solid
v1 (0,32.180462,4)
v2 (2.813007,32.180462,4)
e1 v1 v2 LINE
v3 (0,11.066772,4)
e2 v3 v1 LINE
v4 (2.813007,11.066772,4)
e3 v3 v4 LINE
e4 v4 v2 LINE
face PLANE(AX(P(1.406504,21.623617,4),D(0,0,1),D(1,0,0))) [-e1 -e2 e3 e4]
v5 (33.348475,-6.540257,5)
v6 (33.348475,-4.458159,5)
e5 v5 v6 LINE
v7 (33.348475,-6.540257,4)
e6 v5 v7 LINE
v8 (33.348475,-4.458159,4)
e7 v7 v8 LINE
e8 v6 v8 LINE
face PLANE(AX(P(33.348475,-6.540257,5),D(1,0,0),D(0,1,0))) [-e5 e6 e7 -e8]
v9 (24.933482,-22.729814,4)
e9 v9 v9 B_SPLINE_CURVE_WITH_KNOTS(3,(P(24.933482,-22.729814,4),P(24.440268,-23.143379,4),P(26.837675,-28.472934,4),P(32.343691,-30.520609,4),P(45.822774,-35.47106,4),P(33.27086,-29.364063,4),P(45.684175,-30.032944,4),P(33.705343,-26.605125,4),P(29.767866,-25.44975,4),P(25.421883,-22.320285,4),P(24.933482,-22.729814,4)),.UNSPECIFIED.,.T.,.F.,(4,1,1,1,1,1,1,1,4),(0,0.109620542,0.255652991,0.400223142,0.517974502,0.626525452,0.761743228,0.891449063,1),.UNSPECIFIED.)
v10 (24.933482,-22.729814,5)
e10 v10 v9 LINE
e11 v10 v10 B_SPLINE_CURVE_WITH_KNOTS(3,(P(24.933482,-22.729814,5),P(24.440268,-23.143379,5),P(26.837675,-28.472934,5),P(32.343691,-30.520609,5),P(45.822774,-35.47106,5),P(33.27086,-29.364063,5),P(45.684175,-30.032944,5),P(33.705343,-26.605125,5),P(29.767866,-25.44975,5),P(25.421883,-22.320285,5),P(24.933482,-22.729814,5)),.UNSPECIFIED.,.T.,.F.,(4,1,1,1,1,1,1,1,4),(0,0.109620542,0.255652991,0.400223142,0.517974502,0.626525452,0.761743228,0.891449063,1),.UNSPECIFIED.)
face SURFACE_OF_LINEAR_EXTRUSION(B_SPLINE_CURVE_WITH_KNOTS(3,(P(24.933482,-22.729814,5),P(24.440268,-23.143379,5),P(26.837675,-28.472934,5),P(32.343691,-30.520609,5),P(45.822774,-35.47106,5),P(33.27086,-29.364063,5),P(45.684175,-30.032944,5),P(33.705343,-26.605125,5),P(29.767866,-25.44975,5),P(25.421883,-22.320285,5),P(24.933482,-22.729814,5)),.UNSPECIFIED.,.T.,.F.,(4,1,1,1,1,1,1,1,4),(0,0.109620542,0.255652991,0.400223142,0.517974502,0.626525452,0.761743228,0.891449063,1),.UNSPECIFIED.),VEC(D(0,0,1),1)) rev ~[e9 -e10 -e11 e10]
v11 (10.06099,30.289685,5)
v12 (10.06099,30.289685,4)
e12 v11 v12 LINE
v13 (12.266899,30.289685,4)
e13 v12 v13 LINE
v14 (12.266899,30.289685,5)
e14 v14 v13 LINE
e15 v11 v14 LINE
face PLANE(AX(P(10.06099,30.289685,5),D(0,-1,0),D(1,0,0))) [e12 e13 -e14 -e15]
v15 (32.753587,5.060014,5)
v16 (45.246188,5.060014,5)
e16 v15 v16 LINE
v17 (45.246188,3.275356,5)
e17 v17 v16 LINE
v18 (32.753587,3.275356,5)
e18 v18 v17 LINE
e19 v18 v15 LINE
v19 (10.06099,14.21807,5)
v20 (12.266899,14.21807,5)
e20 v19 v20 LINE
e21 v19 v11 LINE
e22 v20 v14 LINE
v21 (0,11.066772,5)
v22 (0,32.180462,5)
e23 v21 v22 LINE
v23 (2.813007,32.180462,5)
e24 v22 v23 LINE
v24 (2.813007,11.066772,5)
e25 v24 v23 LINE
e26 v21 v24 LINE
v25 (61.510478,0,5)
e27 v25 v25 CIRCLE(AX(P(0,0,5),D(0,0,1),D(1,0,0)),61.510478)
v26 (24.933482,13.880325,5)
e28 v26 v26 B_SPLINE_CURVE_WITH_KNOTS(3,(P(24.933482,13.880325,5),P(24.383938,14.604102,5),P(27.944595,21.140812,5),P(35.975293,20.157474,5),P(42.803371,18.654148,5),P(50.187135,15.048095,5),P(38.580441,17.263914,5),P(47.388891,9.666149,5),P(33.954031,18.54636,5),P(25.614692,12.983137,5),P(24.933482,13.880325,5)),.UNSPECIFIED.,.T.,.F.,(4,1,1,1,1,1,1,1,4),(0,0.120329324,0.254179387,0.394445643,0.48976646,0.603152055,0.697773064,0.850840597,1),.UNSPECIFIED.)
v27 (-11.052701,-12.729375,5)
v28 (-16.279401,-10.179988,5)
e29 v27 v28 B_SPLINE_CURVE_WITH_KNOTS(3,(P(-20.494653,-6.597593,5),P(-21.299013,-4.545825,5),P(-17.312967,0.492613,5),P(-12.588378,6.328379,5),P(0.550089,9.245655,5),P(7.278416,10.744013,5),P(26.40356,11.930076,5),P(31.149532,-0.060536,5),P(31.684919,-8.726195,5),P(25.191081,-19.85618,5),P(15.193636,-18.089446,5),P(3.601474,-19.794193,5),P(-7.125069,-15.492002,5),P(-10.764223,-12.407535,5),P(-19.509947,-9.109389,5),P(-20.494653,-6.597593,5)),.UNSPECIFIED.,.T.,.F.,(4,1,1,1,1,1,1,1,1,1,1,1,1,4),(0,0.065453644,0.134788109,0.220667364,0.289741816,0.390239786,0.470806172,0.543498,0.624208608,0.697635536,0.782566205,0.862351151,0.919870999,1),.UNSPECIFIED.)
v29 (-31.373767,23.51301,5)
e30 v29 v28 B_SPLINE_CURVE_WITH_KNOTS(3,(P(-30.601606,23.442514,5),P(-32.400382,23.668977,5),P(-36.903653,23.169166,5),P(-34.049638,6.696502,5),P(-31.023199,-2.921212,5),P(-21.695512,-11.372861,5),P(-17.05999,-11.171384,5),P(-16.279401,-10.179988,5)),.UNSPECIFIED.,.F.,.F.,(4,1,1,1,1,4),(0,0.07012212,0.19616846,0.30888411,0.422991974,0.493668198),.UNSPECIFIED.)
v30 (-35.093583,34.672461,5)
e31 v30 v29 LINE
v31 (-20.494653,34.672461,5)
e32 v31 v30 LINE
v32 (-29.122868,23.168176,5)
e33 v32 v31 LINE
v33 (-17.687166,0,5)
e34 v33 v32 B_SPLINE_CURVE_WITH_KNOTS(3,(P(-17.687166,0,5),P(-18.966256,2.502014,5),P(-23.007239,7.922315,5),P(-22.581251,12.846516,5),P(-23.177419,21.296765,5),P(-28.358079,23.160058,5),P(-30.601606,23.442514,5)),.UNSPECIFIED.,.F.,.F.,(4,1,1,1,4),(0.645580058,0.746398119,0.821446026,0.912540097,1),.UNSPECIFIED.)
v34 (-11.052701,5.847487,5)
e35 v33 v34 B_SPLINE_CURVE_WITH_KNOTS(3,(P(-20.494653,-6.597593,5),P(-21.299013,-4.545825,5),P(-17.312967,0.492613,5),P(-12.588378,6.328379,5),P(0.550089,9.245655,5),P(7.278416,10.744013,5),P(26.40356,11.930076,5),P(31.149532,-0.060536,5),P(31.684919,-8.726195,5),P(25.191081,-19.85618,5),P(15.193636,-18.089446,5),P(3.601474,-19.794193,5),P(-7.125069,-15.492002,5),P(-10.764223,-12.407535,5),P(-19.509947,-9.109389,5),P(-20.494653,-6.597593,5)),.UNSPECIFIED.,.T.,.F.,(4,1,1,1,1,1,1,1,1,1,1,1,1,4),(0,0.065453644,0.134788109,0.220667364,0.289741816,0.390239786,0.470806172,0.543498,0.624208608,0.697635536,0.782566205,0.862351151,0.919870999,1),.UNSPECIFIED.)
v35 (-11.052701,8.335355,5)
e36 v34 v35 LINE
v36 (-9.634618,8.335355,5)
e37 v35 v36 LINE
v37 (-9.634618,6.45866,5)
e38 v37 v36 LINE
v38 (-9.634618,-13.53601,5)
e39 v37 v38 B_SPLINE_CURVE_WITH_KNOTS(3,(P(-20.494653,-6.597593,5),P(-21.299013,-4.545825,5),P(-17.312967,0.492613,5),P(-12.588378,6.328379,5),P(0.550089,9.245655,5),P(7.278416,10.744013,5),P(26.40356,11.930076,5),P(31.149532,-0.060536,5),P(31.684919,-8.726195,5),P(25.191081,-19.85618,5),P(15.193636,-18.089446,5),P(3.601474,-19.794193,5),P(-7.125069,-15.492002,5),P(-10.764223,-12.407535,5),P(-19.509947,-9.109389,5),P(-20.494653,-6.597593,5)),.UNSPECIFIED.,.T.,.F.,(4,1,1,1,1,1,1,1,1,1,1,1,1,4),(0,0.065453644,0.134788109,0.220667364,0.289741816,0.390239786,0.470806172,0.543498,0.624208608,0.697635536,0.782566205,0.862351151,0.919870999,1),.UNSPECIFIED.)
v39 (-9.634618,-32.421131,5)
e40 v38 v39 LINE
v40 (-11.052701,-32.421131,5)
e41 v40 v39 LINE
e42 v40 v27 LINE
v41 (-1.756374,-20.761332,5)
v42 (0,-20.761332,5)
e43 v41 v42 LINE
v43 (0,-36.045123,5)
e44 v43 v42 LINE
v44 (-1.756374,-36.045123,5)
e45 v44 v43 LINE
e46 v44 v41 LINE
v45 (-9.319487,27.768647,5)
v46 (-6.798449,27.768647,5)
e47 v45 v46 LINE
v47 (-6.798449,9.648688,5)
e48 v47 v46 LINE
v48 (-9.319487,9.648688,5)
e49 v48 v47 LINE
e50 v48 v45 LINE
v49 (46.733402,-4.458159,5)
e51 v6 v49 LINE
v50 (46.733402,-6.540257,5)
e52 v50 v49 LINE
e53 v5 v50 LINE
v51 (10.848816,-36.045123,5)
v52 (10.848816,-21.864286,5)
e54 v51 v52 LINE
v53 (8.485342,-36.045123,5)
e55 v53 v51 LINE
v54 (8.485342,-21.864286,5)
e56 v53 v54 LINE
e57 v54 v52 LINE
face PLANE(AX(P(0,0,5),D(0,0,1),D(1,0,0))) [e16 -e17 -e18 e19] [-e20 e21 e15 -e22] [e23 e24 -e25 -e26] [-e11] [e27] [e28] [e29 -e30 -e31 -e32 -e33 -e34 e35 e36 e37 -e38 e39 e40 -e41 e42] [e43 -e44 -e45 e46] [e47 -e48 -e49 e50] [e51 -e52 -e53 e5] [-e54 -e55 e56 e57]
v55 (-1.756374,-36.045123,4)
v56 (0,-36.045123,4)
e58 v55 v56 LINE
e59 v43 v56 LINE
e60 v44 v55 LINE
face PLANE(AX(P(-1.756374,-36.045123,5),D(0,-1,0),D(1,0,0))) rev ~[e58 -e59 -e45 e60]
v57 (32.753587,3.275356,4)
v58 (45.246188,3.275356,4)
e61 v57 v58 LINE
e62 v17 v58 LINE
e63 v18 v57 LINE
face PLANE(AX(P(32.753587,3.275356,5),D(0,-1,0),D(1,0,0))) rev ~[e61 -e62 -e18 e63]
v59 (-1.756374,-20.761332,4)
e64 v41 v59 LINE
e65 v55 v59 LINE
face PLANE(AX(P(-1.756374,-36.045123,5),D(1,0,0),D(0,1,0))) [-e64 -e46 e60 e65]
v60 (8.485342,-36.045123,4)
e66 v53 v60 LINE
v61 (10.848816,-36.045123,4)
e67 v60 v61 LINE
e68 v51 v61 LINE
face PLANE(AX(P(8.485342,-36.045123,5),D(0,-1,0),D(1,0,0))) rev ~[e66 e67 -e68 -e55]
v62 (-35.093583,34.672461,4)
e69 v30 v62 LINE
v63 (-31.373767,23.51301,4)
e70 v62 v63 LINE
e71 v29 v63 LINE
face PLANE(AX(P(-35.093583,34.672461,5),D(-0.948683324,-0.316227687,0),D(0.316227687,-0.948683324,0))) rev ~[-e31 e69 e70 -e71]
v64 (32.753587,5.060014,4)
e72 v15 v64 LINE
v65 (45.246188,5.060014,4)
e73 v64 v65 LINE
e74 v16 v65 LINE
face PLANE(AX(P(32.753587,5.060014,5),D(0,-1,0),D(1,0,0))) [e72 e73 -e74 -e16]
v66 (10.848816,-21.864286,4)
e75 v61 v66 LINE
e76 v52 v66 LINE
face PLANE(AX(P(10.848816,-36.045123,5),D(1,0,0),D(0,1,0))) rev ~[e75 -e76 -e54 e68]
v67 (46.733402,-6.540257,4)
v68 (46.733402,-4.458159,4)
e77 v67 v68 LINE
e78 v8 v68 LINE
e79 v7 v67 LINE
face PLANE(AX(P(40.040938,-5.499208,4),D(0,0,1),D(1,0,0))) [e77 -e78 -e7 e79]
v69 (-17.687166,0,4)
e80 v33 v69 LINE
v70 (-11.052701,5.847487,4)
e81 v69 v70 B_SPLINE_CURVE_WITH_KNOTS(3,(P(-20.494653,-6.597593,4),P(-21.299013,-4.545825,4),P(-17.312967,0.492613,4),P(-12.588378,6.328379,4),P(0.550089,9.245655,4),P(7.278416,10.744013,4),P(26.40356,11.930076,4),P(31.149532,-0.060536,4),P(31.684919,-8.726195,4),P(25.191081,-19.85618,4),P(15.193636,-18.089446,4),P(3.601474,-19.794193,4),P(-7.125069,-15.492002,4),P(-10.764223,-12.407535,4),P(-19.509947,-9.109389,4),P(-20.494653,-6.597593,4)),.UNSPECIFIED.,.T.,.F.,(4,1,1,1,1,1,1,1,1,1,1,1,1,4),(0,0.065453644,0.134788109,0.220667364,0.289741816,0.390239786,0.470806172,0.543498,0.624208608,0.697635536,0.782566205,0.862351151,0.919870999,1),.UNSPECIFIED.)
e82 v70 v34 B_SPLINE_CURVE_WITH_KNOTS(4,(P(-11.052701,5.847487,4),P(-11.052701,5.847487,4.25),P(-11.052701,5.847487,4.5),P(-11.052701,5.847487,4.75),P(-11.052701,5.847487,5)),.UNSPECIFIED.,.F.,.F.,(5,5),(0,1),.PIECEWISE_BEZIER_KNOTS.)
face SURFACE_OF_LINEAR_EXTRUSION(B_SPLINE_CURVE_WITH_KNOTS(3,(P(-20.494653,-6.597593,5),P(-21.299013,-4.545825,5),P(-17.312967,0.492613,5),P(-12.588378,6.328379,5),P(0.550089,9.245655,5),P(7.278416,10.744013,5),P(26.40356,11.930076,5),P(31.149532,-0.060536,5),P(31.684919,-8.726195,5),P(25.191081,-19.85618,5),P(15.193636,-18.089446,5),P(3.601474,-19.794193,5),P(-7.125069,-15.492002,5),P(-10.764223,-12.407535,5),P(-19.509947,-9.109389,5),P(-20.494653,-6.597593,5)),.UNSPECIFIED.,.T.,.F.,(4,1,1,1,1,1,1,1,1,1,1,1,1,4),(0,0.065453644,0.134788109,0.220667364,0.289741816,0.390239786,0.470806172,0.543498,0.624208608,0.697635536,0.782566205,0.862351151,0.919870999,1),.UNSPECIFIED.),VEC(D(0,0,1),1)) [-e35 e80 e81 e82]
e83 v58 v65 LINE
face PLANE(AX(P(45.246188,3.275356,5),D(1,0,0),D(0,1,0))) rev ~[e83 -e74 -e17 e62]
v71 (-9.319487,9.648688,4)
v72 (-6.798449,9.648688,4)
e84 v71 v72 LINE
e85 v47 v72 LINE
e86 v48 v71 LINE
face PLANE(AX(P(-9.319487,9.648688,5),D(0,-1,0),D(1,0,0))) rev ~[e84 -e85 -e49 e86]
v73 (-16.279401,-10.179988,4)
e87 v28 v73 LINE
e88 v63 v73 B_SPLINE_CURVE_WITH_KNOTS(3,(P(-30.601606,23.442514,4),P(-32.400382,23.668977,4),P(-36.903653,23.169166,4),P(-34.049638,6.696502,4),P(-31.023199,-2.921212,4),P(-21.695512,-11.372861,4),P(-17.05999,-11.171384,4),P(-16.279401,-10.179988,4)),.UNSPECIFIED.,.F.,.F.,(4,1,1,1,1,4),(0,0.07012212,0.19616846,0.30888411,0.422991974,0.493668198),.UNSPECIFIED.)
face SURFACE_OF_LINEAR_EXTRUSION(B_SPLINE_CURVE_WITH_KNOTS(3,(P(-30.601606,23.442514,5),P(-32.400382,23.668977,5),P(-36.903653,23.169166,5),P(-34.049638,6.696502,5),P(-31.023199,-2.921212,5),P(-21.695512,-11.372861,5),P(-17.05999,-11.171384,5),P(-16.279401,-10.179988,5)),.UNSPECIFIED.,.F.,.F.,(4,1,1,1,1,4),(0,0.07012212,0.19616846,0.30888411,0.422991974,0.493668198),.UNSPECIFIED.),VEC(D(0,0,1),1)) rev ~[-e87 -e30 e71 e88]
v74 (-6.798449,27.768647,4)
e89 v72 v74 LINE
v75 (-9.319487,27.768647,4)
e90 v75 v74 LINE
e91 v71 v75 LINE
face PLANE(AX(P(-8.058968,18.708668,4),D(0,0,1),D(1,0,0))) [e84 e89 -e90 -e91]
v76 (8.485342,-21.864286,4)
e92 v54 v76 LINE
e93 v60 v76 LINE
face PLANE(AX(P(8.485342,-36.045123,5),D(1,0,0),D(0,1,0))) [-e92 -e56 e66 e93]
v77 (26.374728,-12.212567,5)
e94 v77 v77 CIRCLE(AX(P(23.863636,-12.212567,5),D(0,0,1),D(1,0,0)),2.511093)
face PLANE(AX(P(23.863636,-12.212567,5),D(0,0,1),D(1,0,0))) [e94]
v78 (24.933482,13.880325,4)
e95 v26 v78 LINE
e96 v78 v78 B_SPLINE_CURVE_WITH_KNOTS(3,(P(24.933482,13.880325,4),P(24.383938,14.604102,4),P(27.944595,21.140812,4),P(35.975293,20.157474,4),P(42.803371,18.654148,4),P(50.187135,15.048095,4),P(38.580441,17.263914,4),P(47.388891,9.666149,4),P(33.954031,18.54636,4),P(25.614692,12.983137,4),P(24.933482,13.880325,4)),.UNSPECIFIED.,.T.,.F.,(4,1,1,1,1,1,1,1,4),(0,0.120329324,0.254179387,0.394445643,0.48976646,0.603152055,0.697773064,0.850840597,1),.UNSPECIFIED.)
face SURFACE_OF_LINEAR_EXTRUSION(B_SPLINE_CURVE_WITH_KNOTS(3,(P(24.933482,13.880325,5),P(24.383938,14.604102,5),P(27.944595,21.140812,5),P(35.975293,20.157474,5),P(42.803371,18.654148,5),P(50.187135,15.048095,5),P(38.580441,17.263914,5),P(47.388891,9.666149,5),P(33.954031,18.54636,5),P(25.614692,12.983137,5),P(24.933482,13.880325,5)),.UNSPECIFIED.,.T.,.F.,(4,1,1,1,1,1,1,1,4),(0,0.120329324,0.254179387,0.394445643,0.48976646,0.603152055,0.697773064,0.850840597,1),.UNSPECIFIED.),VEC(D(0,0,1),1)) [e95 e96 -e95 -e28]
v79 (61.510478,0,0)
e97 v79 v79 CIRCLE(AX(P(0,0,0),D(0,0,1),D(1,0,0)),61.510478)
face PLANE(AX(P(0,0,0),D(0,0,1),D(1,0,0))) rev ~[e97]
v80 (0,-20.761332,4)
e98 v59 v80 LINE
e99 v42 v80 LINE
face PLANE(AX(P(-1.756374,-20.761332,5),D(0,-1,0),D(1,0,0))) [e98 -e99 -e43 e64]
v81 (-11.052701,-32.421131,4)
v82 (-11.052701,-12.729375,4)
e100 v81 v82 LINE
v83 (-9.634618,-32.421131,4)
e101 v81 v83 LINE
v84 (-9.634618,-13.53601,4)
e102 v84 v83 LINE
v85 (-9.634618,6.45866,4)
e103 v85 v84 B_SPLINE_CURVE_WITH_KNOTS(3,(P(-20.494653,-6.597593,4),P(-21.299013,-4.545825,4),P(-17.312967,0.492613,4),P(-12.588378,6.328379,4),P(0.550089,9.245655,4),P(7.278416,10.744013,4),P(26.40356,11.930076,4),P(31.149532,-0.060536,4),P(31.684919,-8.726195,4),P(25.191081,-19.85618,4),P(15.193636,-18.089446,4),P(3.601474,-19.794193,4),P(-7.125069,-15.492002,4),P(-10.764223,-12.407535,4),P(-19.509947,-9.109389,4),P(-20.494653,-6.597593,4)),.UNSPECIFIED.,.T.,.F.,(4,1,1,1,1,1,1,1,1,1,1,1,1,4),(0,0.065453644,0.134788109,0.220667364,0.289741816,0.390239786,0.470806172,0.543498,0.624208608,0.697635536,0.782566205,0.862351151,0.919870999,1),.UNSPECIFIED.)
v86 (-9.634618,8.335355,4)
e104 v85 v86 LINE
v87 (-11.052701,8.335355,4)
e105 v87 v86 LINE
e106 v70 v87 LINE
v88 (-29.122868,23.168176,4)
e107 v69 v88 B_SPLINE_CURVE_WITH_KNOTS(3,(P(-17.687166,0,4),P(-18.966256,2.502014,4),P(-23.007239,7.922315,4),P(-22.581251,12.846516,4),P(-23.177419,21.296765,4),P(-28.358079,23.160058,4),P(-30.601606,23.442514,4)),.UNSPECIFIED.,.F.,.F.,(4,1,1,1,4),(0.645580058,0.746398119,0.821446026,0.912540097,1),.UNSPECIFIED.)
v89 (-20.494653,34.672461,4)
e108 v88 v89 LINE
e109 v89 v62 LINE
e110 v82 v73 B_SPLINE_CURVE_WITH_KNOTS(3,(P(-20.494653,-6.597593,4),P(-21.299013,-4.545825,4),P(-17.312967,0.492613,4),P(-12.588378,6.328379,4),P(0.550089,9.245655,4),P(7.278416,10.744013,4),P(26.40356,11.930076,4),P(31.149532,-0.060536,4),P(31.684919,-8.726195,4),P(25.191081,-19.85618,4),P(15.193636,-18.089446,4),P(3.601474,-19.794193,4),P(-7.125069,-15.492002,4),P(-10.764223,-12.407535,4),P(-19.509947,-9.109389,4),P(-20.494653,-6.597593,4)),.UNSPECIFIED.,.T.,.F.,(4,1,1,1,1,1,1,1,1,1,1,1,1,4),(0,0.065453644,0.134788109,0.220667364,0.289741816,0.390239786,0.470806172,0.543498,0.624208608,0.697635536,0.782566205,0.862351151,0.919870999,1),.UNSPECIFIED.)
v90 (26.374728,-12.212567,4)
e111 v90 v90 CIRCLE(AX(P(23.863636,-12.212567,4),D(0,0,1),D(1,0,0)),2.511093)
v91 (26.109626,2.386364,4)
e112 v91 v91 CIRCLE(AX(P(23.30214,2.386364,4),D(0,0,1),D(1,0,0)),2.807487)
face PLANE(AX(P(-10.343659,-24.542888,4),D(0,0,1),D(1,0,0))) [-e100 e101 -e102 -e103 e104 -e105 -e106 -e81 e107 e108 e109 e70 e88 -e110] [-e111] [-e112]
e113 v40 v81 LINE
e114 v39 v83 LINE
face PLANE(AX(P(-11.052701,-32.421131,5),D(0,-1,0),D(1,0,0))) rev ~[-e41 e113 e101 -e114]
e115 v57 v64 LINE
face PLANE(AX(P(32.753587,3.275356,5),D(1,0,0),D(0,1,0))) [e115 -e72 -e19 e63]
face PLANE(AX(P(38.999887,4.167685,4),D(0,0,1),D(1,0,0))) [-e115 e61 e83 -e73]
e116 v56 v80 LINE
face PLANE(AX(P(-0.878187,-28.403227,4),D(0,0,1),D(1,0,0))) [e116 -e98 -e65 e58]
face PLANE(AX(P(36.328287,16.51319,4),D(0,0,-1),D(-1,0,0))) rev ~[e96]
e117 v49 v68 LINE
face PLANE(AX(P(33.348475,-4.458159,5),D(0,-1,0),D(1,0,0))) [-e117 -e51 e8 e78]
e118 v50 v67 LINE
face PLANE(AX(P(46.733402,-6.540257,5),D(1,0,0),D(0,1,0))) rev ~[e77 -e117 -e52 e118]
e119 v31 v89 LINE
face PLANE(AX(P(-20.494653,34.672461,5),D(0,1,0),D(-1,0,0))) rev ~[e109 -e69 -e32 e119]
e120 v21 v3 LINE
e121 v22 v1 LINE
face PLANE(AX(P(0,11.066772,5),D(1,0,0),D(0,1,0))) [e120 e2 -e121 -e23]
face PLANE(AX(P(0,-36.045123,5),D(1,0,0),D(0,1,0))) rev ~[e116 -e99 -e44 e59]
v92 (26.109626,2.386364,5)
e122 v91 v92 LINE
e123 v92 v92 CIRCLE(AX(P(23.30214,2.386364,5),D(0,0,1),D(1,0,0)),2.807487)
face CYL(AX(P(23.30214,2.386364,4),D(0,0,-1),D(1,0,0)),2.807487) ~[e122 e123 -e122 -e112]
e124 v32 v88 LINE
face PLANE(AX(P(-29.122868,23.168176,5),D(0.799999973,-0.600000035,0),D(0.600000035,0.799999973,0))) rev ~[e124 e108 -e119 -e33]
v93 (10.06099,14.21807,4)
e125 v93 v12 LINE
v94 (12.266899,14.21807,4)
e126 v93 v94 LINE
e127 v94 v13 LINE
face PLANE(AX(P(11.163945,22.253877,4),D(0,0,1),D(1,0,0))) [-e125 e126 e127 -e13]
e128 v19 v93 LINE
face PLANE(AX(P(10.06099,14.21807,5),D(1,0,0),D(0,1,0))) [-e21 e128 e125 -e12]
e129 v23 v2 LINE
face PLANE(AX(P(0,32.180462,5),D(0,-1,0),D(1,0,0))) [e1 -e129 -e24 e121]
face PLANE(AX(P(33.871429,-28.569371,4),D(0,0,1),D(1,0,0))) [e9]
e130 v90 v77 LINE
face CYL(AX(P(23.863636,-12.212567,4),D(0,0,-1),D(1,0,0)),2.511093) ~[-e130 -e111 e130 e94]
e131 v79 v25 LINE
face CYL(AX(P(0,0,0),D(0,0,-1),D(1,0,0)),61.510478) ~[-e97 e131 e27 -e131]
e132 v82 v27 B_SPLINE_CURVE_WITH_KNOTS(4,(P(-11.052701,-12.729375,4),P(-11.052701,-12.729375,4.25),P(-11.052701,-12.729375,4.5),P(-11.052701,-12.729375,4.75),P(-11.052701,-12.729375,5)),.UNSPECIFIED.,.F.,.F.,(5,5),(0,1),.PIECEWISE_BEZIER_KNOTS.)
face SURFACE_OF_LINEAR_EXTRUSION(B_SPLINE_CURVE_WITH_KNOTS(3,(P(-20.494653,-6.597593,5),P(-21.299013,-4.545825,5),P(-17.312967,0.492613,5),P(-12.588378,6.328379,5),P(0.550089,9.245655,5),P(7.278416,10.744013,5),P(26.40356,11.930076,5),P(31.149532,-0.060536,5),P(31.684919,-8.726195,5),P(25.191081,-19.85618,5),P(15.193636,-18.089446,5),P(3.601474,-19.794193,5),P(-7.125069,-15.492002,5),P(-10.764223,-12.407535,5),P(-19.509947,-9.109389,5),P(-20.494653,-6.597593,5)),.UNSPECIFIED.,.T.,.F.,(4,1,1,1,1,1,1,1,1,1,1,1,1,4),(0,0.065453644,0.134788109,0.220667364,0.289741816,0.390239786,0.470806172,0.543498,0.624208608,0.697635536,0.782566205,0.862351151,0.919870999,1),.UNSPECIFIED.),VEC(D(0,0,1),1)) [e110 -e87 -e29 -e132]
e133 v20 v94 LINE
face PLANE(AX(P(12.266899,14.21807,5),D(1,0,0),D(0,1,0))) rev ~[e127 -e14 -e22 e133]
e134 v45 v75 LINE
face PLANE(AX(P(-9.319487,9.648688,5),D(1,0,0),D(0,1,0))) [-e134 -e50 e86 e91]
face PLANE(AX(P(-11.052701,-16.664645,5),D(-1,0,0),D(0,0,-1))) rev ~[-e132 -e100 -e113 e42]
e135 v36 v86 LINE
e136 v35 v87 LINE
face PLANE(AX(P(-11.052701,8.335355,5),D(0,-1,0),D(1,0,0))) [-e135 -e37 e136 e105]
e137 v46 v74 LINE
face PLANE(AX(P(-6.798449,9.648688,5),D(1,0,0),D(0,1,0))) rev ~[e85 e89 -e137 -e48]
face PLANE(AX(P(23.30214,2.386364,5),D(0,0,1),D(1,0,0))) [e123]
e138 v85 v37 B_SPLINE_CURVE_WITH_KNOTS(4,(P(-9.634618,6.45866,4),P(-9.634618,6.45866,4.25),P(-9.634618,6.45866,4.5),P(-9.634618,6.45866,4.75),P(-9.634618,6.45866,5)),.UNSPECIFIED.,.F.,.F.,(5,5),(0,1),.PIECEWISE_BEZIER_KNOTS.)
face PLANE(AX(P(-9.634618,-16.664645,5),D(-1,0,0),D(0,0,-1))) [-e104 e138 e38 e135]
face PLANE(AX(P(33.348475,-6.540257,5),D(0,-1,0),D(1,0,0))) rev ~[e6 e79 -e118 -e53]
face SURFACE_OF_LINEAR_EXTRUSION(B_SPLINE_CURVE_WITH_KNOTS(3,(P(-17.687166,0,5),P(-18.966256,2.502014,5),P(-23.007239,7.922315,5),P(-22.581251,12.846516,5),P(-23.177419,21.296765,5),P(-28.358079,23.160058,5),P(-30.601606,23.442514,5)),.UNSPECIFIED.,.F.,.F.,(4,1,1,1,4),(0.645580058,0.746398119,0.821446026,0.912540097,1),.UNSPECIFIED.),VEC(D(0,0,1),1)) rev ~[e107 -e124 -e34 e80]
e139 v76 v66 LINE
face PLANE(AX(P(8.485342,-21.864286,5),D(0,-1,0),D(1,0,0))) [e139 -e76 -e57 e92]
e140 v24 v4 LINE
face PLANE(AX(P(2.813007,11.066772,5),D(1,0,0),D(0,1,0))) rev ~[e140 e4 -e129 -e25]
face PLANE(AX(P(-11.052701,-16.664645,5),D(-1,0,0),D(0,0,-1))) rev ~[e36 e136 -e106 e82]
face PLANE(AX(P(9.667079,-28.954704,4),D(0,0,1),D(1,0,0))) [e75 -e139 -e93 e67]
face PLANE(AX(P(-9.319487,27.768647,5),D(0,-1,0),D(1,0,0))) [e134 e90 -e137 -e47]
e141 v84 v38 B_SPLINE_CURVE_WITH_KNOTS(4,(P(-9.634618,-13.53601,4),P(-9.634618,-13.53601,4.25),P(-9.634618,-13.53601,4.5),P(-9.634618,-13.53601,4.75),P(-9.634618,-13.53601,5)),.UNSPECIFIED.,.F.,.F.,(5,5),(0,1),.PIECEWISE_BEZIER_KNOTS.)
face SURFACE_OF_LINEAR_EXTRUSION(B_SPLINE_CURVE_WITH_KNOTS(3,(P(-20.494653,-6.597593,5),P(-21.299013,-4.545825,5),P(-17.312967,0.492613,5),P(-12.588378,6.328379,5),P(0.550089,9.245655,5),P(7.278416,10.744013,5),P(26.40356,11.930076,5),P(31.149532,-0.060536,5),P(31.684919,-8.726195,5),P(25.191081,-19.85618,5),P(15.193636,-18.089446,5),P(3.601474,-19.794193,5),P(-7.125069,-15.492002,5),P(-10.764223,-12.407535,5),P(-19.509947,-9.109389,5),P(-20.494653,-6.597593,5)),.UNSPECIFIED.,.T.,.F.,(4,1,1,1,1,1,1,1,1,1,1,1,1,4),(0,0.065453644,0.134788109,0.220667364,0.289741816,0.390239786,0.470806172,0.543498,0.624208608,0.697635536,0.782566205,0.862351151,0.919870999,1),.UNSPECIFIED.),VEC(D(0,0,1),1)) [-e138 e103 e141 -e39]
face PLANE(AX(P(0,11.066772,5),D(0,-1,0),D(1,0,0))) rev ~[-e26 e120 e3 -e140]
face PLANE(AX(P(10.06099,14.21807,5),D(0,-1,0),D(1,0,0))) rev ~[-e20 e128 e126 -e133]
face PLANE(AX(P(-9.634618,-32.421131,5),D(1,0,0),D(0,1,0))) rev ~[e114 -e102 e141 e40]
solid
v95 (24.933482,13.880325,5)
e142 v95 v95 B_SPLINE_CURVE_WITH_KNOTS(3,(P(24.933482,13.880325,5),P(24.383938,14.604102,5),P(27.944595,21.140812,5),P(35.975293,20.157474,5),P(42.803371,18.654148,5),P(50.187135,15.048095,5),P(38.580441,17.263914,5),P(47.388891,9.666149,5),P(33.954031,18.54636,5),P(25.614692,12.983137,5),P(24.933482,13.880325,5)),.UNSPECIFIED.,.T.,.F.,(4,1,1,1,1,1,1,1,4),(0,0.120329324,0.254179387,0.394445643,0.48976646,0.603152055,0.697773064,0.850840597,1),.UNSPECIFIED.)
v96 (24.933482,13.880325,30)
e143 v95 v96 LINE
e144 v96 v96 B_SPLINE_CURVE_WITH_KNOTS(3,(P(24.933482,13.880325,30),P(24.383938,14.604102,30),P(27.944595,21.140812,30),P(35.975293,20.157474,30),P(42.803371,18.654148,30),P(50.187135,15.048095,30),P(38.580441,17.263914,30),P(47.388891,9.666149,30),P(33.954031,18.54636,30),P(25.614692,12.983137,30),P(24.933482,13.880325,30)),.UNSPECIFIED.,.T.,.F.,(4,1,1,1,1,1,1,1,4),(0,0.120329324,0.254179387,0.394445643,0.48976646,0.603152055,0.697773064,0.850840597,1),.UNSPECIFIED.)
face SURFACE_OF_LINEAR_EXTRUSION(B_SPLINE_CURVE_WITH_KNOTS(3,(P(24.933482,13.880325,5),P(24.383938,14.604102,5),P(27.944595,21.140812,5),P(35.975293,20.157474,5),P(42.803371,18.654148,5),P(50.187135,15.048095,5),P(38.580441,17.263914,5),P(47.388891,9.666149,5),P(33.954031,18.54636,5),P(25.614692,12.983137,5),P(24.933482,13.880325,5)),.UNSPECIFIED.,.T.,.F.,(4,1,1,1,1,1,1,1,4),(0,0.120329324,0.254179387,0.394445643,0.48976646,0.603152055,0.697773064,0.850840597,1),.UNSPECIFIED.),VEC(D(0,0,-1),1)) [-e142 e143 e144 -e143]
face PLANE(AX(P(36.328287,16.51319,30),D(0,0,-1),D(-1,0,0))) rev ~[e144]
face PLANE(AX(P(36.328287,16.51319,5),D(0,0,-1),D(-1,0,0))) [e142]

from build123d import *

# Parameters (mm, degrees)
F0_R      = 61.5104783732
F1_DEPTH  = 5
F3_DEPTH  = 1
F5_DEPTH  = 1
F7_DEPTH  = 1
F8_R      = 2.807486715
F8_R_2    = 2.5110925344
F9_DEPTH  = 1
F10_W     = 2.5210375898
F10_H     = 18.1199591607
F10_W_2   = 2.8130074497
F10_H_2   = 21.1136899889
F10_W_3   = 2.2059092298
F10_H_3   = 16.0716157407
F10_W_4   = 1.4180829749
F10_H_4   = 15.7564859837
F10_W_5   = 1.7563739093
F10_H_5   = 15.2837913483
F10_W_6   = 2.363473177
F10_H_6   = 14.1808371991
F11_DEPTH = 1
F13_DEPTH = 1
F14_W     = 12.4926008284
F14_H     = 1.7846575938
F14_W_2   = 13.3849270642
F14_H_2   = 2.0820987411
F15_DEPTH = 1
F16_DEPTH = 25
F17_DEPTH = 25


with BuildPart() as f1:
    # F0 (on Top) → F1 (new body)
    with BuildSketch(Plane.XY):
        Circle(F0_R)
    extrude(amount=F1_DEPTH)

    # F2 (on face) → F3 (cut)
    with BuildSketch(Plane.XY.offset(5)):
        with BuildLine():
            add(Edge.make_bspline(
                [(-20.494652912, -6.5975934267), (-21.2990128711, -4.545824778), (-17.312967188, 0.4926134116), (-12.5883781956, 6.3283790759), (0.5500886256, 9.2456554844), (7.2784159295, 10.7440134086), (26.4035601901, 11.9300764228), (31.1495323562, -0.0605358991), (31.6849193377, -8.7261948515), (25.191080782, -19.856179578), (15.1936361362, -18.0894462709), (3.6014741555, -19.7941928104), (-7.1250690738, -15.4920022977), (-10.7642227516, -12.4075352897), (-19.5099474562, -9.1093889972), (-20.494652912, -6.5975934267)],
                knots=[0, 0, 0, 0, 0.0654536436, 0.134788109, 0.2206673637, 0.2897418164, 0.3902397859, 0.4708061724, 0.5434980002, 0.6242086084, 0.6976355358, 0.7825662054, 0.8623511508, 0.919870999, 1, 1, 1, 1], degree=3))
        make_face()
    extrude(amount=-F3_DEPTH, mode=Mode.SUBTRACT)

    # F4 (on face) → F5 (cut)
    with BuildSketch(Plane.XY.offset(5)):
        with BuildLine():
            add(Edge.make_bspline(
                [(-17.6871661097, 0), (-18.9662559441, 2.5020139326), (-23.0072388854, 7.922315189), (-22.5812509965, 12.8465160809), (-23.1774185328, 21.2967654281), (-28.3580794939, 23.1600576634), (-30.601605773, 23.4425142407)],
                knots=[0.6455800575, 0.6455800575, 0.6455800575, 0.6455800575, 0.7463981187, 0.8214460261, 0.9125400966, 1, 1, 1, 1], degree=3))
            add(Edge.make_bspline(
                [(-30.601605773, 23.4425142407), (-32.4003822799, 23.668977492), (-36.9036531747, 23.1691656536), (-34.0496381181, 6.6965022108), (-31.0231986262, -2.9212121645), (-21.6955117208, -11.3728614122), (-17.0599897129, -11.1713836346), (-16.2794006217, -10.1799877912)],
                knots=[0, 0, 0, 0, 0.0701221203, 0.1961684603, 0.3088841103, 0.4229919744, 0.4936681976, 0.4936681976, 0.4936681976, 0.4936681976], degree=3))
            add(Edge.make_bspline(
                [(-16.2794006217, -10.1799877912), (-18.2229610484, -9.1451176729), (-19.961256135, -7.9581867432), (-20.494652912, -6.5975934267)],
                knots=[0.9565955986, 0.9565955986, 0.9565955986, 0.9565955986, 1, 1, 1, 1], degree=3))
            add(Edge.make_bspline(
                [(-20.494652912, -6.5975934267), (-21.2990128711, -4.545824778), (-19.3633731796, -2.0991390853), (-17.6871661097, 0)],
                knots=[0, 0, 0, 0, 0.0654536436, 0.0654536436, 0.0654536436, 0.0654536436], degree=3))
        make_face()
        with BuildLine():
            add(Edge.make_bspline(
                [(-16.2794006217, -10.1799877912), (-18.2229610484, -9.1451176729), (-19.961256135, -7.9581867432), (-20.494652912, -6.5975934267)],
                knots=[0.9565955986, 0.9565955986, 0.9565955986, 0.9565955986, 1, 1, 1, 1], degree=3))
            add(Edge.make_bspline(
                [(-16.2794006217, -10.1799877912), (-15.481345234, -9.1664086841), (-15.9843539755, -5.0262466371), (-16.6765845059, -1.976787857), (-17.6871661097, 0)],
                knots=[0.4936681976, 0.4936681976, 0.4936681976, 0.4936681976, 0.565925857, 0.6455800575, 0.6455800575, 0.6455800575, 0.6455800575], degree=3))
            add(Edge.make_bspline(
                [(-20.494652912, -6.5975934267), (-21.2990128711, -4.545824778), (-19.3633731796, -2.0991390853), (-17.6871661097, 0)],
                knots=[0, 0, 0, 0, 0.0654536436, 0.0654536436, 0.0654536436, 0.0654536436], degree=3))
        make_face()
    extrude(amount=-F5_DEPTH, mode=Mode.SUBTRACT)

    # F6 (on face) → F7 (cut)
    with BuildSketch(Plane.XY.offset(5)):
        with BuildLine():
            add(Edge.make_bspline(
                [(-30.601605773, 23.4425142407), (-30.8636413225, 23.4755041215), (-31.1216651845, 23.4998968342), (-31.373766989, 23.5130098324)],
                knots=[0, 0, 0, 0, 0.0102149924, 0.0102149924, 0.0102149924, 0.0102149924], degree=3))
            Line((-31.373766989, 23.5130098324), (-30.601605773, 21.1965255439))
            Line((-30.601605773, 21.1965255439), (-29.1228675758, 23.1681762918))
            add(Edge.make_bspline(
                [(-29.1228675758, 23.1681762918), (-29.6198526727, 23.2913015268), (-30.1175734649, 23.3815753026), (-30.601605773, 23.4425142407)],
                knots=[0.9811308567, 0.9811308567, 0.9811308567, 0.9811308567, 1, 1, 1, 1], degree=3))
        make_face()
        with BuildLine():
            Line((-20.494652912, 34.6724614501), (-35.0935831666, 34.6724614501))
            Line((-35.0935831666, 34.6724614501), (-31.373766989, 23.5130098324))
            add(Edge.make_bspline(
                [(-30.601605773, 23.4425142407), (-30.8636413225, 23.4755041215), (-31.1216651845, 23.4998968342), (-31.373766989, 23.5130098324)],
                knots=[0, 0, 0, 0, 0.0102149924, 0.0102149924, 0.0102149924, 0.0102149924], degree=3))
            add(Edge.make_bspline(
                [(-29.1228675758, 23.1681762918), (-29.6198526727, 23.2913015268), (-30.1175734649, 23.3815753026), (-30.601605773, 23.4425142407)],
                knots=[0.9811308567, 0.9811308567, 0.9811308567, 0.9811308567, 1, 1, 1, 1], degree=3))
            Line((-29.1228675758, 23.1681762918), (-20.494652912, 34.6724614501))
        make_face()
    extrude(amount=-F7_DEPTH, mode=Mode.SUBTRACT)

    # F8 (on face) → F9 (join)
    with BuildSketch(Plane.XY.offset(4)):
        with Locations((23.3021397144, 2.3863636889)):
            Circle(F8_R)
        with Locations((23.8636359572, -12.2125670314)):
            Circle(F8_R_2)
    extrude(amount=F9_DEPTH)

    # F10 (on face) → F11 (cut)
    with BuildSketch(Plane.XY.offset(5)):
        with Locations((-8.0589682329, 18.7086677179)):
            Rectangle(F10_W, F10_H)
        with Locations((1.4065037249, 21.6236170381)):
            Rectangle(F10_W_2, F10_H_2)
        with Locations((11.1639448442, 22.2538774833)):
            Rectangle(F10_W_3, F10_H_3)
        with Locations((-10.3436592035, -24.5428876951)):
            Rectangle(F10_W_4, F10_H_4)
        with Locations((-0.8781869547, -28.4032272175)):
            Rectangle(F10_W_5, F10_H_5)
        with Locations((9.6670789644, -28.9547042921)):
            Rectangle(F10_W_6, F10_H_6)
    extrude(amount=-F11_DEPTH, mode=Mode.SUBTRACT)

    # F12 (on face) → F13 (cut)
    with BuildSketch(Plane.XY.offset(5)):
        with BuildLine():
            add(Edge.make_bspline(
                [(24.933481589, 13.8803254813), (24.383938283, 14.6041021008), (27.9445946005, 21.1408116307), (35.9752930476, 20.1574743941), (42.8033707993, 18.6541476621), (50.1871354175, 15.0480947507), (38.5804413285, 17.2639139369), (47.388891294, 9.6661488267), (33.9540312952, 18.5463602498), (25.6146916962, 12.9831369555), (24.933481589, 13.8803254813)],
                knots=[0, 0, 0, 0, 0.1203293236, 0.2541793873, 0.3944456425, 0.4897664602, 0.6031520548, 0.6977730636, 0.850840597, 1, 1, 1, 1], degree=3))
        make_face()
        with BuildLine():
            add(Edge.make_bspline(
                [(24.933481589, -22.7298140526), (24.4402675689, -23.1433788803), (26.8376747455, -28.4729336198), (32.3436909055, -30.5206091482), (45.8227741224, -35.4710602874), (33.2708596368, -29.3640633846), (45.6841754463, -30.0329444423), (33.705342547, -26.6051250101), (29.7678656237, -25.4497500002), (25.4218831508, -22.3202845186), (24.933481589, -22.7298140526)],
                knots=[0, 0, 0, 0, 0.109620542, 0.2556529908, 0.400223142, 0.5179745023, 0.6265254515, 0.7617432276, 0.8914490632, 1, 1, 1, 1], degree=3))
        make_face()
    extrude(amount=-F13_DEPTH, mode=Mode.SUBTRACT)

    # F14 (on face) → F15 (cut)
    with BuildSketch(Plane.XY.offset(5)):
        with Locations((38.9998871833, 4.1676850524)):
            Rectangle(F14_W, F14_H)
        with Locations((40.0409381837, -5.4992081132)):
            Rectangle(F14_W_2, F14_H_2)
    extrude(amount=-F15_DEPTH, mode=Mode.SUBTRACT)

    # F12 (on face) → F16 (join)
    with BuildSketch(Plane.XY.offset(5)):
        with BuildLine():
            add(Edge.make_bspline(
                [(24.933481589, 13.8803254813), (24.383938283, 14.6041021008), (27.9445946005, 21.1408116307), (35.9752930476, 20.1574743941), (42.8033707993, 18.6541476621), (50.1871354175, 15.0480947507), (38.5804413285, 17.2639139369), (47.388891294, 9.6661488267), (33.9540312952, 18.5463602498), (25.6146916962, 12.9831369555), (24.933481589, 13.8803254813)],
                knots=[0, 0, 0, 0, 0.1203293236, 0.2541793873, 0.3944456425, 0.4897664602, 0.6031520548, 0.6977730636, 0.850840597, 1, 1, 1, 1], degree=3))
        make_face()
    extrude(amount=F16_DEPTH)

    # F17 (cut): a face of the model
    f17_faces = [f1.faces().sort_by_distance(p)[0] for p in [
        (-10.3436592035, -16.6646447033, 4.5),
    ]]
    extrude(f17_faces, amount=-F17_DEPTH, mode=Mode.SUBTRACT)


solid = f1.part
